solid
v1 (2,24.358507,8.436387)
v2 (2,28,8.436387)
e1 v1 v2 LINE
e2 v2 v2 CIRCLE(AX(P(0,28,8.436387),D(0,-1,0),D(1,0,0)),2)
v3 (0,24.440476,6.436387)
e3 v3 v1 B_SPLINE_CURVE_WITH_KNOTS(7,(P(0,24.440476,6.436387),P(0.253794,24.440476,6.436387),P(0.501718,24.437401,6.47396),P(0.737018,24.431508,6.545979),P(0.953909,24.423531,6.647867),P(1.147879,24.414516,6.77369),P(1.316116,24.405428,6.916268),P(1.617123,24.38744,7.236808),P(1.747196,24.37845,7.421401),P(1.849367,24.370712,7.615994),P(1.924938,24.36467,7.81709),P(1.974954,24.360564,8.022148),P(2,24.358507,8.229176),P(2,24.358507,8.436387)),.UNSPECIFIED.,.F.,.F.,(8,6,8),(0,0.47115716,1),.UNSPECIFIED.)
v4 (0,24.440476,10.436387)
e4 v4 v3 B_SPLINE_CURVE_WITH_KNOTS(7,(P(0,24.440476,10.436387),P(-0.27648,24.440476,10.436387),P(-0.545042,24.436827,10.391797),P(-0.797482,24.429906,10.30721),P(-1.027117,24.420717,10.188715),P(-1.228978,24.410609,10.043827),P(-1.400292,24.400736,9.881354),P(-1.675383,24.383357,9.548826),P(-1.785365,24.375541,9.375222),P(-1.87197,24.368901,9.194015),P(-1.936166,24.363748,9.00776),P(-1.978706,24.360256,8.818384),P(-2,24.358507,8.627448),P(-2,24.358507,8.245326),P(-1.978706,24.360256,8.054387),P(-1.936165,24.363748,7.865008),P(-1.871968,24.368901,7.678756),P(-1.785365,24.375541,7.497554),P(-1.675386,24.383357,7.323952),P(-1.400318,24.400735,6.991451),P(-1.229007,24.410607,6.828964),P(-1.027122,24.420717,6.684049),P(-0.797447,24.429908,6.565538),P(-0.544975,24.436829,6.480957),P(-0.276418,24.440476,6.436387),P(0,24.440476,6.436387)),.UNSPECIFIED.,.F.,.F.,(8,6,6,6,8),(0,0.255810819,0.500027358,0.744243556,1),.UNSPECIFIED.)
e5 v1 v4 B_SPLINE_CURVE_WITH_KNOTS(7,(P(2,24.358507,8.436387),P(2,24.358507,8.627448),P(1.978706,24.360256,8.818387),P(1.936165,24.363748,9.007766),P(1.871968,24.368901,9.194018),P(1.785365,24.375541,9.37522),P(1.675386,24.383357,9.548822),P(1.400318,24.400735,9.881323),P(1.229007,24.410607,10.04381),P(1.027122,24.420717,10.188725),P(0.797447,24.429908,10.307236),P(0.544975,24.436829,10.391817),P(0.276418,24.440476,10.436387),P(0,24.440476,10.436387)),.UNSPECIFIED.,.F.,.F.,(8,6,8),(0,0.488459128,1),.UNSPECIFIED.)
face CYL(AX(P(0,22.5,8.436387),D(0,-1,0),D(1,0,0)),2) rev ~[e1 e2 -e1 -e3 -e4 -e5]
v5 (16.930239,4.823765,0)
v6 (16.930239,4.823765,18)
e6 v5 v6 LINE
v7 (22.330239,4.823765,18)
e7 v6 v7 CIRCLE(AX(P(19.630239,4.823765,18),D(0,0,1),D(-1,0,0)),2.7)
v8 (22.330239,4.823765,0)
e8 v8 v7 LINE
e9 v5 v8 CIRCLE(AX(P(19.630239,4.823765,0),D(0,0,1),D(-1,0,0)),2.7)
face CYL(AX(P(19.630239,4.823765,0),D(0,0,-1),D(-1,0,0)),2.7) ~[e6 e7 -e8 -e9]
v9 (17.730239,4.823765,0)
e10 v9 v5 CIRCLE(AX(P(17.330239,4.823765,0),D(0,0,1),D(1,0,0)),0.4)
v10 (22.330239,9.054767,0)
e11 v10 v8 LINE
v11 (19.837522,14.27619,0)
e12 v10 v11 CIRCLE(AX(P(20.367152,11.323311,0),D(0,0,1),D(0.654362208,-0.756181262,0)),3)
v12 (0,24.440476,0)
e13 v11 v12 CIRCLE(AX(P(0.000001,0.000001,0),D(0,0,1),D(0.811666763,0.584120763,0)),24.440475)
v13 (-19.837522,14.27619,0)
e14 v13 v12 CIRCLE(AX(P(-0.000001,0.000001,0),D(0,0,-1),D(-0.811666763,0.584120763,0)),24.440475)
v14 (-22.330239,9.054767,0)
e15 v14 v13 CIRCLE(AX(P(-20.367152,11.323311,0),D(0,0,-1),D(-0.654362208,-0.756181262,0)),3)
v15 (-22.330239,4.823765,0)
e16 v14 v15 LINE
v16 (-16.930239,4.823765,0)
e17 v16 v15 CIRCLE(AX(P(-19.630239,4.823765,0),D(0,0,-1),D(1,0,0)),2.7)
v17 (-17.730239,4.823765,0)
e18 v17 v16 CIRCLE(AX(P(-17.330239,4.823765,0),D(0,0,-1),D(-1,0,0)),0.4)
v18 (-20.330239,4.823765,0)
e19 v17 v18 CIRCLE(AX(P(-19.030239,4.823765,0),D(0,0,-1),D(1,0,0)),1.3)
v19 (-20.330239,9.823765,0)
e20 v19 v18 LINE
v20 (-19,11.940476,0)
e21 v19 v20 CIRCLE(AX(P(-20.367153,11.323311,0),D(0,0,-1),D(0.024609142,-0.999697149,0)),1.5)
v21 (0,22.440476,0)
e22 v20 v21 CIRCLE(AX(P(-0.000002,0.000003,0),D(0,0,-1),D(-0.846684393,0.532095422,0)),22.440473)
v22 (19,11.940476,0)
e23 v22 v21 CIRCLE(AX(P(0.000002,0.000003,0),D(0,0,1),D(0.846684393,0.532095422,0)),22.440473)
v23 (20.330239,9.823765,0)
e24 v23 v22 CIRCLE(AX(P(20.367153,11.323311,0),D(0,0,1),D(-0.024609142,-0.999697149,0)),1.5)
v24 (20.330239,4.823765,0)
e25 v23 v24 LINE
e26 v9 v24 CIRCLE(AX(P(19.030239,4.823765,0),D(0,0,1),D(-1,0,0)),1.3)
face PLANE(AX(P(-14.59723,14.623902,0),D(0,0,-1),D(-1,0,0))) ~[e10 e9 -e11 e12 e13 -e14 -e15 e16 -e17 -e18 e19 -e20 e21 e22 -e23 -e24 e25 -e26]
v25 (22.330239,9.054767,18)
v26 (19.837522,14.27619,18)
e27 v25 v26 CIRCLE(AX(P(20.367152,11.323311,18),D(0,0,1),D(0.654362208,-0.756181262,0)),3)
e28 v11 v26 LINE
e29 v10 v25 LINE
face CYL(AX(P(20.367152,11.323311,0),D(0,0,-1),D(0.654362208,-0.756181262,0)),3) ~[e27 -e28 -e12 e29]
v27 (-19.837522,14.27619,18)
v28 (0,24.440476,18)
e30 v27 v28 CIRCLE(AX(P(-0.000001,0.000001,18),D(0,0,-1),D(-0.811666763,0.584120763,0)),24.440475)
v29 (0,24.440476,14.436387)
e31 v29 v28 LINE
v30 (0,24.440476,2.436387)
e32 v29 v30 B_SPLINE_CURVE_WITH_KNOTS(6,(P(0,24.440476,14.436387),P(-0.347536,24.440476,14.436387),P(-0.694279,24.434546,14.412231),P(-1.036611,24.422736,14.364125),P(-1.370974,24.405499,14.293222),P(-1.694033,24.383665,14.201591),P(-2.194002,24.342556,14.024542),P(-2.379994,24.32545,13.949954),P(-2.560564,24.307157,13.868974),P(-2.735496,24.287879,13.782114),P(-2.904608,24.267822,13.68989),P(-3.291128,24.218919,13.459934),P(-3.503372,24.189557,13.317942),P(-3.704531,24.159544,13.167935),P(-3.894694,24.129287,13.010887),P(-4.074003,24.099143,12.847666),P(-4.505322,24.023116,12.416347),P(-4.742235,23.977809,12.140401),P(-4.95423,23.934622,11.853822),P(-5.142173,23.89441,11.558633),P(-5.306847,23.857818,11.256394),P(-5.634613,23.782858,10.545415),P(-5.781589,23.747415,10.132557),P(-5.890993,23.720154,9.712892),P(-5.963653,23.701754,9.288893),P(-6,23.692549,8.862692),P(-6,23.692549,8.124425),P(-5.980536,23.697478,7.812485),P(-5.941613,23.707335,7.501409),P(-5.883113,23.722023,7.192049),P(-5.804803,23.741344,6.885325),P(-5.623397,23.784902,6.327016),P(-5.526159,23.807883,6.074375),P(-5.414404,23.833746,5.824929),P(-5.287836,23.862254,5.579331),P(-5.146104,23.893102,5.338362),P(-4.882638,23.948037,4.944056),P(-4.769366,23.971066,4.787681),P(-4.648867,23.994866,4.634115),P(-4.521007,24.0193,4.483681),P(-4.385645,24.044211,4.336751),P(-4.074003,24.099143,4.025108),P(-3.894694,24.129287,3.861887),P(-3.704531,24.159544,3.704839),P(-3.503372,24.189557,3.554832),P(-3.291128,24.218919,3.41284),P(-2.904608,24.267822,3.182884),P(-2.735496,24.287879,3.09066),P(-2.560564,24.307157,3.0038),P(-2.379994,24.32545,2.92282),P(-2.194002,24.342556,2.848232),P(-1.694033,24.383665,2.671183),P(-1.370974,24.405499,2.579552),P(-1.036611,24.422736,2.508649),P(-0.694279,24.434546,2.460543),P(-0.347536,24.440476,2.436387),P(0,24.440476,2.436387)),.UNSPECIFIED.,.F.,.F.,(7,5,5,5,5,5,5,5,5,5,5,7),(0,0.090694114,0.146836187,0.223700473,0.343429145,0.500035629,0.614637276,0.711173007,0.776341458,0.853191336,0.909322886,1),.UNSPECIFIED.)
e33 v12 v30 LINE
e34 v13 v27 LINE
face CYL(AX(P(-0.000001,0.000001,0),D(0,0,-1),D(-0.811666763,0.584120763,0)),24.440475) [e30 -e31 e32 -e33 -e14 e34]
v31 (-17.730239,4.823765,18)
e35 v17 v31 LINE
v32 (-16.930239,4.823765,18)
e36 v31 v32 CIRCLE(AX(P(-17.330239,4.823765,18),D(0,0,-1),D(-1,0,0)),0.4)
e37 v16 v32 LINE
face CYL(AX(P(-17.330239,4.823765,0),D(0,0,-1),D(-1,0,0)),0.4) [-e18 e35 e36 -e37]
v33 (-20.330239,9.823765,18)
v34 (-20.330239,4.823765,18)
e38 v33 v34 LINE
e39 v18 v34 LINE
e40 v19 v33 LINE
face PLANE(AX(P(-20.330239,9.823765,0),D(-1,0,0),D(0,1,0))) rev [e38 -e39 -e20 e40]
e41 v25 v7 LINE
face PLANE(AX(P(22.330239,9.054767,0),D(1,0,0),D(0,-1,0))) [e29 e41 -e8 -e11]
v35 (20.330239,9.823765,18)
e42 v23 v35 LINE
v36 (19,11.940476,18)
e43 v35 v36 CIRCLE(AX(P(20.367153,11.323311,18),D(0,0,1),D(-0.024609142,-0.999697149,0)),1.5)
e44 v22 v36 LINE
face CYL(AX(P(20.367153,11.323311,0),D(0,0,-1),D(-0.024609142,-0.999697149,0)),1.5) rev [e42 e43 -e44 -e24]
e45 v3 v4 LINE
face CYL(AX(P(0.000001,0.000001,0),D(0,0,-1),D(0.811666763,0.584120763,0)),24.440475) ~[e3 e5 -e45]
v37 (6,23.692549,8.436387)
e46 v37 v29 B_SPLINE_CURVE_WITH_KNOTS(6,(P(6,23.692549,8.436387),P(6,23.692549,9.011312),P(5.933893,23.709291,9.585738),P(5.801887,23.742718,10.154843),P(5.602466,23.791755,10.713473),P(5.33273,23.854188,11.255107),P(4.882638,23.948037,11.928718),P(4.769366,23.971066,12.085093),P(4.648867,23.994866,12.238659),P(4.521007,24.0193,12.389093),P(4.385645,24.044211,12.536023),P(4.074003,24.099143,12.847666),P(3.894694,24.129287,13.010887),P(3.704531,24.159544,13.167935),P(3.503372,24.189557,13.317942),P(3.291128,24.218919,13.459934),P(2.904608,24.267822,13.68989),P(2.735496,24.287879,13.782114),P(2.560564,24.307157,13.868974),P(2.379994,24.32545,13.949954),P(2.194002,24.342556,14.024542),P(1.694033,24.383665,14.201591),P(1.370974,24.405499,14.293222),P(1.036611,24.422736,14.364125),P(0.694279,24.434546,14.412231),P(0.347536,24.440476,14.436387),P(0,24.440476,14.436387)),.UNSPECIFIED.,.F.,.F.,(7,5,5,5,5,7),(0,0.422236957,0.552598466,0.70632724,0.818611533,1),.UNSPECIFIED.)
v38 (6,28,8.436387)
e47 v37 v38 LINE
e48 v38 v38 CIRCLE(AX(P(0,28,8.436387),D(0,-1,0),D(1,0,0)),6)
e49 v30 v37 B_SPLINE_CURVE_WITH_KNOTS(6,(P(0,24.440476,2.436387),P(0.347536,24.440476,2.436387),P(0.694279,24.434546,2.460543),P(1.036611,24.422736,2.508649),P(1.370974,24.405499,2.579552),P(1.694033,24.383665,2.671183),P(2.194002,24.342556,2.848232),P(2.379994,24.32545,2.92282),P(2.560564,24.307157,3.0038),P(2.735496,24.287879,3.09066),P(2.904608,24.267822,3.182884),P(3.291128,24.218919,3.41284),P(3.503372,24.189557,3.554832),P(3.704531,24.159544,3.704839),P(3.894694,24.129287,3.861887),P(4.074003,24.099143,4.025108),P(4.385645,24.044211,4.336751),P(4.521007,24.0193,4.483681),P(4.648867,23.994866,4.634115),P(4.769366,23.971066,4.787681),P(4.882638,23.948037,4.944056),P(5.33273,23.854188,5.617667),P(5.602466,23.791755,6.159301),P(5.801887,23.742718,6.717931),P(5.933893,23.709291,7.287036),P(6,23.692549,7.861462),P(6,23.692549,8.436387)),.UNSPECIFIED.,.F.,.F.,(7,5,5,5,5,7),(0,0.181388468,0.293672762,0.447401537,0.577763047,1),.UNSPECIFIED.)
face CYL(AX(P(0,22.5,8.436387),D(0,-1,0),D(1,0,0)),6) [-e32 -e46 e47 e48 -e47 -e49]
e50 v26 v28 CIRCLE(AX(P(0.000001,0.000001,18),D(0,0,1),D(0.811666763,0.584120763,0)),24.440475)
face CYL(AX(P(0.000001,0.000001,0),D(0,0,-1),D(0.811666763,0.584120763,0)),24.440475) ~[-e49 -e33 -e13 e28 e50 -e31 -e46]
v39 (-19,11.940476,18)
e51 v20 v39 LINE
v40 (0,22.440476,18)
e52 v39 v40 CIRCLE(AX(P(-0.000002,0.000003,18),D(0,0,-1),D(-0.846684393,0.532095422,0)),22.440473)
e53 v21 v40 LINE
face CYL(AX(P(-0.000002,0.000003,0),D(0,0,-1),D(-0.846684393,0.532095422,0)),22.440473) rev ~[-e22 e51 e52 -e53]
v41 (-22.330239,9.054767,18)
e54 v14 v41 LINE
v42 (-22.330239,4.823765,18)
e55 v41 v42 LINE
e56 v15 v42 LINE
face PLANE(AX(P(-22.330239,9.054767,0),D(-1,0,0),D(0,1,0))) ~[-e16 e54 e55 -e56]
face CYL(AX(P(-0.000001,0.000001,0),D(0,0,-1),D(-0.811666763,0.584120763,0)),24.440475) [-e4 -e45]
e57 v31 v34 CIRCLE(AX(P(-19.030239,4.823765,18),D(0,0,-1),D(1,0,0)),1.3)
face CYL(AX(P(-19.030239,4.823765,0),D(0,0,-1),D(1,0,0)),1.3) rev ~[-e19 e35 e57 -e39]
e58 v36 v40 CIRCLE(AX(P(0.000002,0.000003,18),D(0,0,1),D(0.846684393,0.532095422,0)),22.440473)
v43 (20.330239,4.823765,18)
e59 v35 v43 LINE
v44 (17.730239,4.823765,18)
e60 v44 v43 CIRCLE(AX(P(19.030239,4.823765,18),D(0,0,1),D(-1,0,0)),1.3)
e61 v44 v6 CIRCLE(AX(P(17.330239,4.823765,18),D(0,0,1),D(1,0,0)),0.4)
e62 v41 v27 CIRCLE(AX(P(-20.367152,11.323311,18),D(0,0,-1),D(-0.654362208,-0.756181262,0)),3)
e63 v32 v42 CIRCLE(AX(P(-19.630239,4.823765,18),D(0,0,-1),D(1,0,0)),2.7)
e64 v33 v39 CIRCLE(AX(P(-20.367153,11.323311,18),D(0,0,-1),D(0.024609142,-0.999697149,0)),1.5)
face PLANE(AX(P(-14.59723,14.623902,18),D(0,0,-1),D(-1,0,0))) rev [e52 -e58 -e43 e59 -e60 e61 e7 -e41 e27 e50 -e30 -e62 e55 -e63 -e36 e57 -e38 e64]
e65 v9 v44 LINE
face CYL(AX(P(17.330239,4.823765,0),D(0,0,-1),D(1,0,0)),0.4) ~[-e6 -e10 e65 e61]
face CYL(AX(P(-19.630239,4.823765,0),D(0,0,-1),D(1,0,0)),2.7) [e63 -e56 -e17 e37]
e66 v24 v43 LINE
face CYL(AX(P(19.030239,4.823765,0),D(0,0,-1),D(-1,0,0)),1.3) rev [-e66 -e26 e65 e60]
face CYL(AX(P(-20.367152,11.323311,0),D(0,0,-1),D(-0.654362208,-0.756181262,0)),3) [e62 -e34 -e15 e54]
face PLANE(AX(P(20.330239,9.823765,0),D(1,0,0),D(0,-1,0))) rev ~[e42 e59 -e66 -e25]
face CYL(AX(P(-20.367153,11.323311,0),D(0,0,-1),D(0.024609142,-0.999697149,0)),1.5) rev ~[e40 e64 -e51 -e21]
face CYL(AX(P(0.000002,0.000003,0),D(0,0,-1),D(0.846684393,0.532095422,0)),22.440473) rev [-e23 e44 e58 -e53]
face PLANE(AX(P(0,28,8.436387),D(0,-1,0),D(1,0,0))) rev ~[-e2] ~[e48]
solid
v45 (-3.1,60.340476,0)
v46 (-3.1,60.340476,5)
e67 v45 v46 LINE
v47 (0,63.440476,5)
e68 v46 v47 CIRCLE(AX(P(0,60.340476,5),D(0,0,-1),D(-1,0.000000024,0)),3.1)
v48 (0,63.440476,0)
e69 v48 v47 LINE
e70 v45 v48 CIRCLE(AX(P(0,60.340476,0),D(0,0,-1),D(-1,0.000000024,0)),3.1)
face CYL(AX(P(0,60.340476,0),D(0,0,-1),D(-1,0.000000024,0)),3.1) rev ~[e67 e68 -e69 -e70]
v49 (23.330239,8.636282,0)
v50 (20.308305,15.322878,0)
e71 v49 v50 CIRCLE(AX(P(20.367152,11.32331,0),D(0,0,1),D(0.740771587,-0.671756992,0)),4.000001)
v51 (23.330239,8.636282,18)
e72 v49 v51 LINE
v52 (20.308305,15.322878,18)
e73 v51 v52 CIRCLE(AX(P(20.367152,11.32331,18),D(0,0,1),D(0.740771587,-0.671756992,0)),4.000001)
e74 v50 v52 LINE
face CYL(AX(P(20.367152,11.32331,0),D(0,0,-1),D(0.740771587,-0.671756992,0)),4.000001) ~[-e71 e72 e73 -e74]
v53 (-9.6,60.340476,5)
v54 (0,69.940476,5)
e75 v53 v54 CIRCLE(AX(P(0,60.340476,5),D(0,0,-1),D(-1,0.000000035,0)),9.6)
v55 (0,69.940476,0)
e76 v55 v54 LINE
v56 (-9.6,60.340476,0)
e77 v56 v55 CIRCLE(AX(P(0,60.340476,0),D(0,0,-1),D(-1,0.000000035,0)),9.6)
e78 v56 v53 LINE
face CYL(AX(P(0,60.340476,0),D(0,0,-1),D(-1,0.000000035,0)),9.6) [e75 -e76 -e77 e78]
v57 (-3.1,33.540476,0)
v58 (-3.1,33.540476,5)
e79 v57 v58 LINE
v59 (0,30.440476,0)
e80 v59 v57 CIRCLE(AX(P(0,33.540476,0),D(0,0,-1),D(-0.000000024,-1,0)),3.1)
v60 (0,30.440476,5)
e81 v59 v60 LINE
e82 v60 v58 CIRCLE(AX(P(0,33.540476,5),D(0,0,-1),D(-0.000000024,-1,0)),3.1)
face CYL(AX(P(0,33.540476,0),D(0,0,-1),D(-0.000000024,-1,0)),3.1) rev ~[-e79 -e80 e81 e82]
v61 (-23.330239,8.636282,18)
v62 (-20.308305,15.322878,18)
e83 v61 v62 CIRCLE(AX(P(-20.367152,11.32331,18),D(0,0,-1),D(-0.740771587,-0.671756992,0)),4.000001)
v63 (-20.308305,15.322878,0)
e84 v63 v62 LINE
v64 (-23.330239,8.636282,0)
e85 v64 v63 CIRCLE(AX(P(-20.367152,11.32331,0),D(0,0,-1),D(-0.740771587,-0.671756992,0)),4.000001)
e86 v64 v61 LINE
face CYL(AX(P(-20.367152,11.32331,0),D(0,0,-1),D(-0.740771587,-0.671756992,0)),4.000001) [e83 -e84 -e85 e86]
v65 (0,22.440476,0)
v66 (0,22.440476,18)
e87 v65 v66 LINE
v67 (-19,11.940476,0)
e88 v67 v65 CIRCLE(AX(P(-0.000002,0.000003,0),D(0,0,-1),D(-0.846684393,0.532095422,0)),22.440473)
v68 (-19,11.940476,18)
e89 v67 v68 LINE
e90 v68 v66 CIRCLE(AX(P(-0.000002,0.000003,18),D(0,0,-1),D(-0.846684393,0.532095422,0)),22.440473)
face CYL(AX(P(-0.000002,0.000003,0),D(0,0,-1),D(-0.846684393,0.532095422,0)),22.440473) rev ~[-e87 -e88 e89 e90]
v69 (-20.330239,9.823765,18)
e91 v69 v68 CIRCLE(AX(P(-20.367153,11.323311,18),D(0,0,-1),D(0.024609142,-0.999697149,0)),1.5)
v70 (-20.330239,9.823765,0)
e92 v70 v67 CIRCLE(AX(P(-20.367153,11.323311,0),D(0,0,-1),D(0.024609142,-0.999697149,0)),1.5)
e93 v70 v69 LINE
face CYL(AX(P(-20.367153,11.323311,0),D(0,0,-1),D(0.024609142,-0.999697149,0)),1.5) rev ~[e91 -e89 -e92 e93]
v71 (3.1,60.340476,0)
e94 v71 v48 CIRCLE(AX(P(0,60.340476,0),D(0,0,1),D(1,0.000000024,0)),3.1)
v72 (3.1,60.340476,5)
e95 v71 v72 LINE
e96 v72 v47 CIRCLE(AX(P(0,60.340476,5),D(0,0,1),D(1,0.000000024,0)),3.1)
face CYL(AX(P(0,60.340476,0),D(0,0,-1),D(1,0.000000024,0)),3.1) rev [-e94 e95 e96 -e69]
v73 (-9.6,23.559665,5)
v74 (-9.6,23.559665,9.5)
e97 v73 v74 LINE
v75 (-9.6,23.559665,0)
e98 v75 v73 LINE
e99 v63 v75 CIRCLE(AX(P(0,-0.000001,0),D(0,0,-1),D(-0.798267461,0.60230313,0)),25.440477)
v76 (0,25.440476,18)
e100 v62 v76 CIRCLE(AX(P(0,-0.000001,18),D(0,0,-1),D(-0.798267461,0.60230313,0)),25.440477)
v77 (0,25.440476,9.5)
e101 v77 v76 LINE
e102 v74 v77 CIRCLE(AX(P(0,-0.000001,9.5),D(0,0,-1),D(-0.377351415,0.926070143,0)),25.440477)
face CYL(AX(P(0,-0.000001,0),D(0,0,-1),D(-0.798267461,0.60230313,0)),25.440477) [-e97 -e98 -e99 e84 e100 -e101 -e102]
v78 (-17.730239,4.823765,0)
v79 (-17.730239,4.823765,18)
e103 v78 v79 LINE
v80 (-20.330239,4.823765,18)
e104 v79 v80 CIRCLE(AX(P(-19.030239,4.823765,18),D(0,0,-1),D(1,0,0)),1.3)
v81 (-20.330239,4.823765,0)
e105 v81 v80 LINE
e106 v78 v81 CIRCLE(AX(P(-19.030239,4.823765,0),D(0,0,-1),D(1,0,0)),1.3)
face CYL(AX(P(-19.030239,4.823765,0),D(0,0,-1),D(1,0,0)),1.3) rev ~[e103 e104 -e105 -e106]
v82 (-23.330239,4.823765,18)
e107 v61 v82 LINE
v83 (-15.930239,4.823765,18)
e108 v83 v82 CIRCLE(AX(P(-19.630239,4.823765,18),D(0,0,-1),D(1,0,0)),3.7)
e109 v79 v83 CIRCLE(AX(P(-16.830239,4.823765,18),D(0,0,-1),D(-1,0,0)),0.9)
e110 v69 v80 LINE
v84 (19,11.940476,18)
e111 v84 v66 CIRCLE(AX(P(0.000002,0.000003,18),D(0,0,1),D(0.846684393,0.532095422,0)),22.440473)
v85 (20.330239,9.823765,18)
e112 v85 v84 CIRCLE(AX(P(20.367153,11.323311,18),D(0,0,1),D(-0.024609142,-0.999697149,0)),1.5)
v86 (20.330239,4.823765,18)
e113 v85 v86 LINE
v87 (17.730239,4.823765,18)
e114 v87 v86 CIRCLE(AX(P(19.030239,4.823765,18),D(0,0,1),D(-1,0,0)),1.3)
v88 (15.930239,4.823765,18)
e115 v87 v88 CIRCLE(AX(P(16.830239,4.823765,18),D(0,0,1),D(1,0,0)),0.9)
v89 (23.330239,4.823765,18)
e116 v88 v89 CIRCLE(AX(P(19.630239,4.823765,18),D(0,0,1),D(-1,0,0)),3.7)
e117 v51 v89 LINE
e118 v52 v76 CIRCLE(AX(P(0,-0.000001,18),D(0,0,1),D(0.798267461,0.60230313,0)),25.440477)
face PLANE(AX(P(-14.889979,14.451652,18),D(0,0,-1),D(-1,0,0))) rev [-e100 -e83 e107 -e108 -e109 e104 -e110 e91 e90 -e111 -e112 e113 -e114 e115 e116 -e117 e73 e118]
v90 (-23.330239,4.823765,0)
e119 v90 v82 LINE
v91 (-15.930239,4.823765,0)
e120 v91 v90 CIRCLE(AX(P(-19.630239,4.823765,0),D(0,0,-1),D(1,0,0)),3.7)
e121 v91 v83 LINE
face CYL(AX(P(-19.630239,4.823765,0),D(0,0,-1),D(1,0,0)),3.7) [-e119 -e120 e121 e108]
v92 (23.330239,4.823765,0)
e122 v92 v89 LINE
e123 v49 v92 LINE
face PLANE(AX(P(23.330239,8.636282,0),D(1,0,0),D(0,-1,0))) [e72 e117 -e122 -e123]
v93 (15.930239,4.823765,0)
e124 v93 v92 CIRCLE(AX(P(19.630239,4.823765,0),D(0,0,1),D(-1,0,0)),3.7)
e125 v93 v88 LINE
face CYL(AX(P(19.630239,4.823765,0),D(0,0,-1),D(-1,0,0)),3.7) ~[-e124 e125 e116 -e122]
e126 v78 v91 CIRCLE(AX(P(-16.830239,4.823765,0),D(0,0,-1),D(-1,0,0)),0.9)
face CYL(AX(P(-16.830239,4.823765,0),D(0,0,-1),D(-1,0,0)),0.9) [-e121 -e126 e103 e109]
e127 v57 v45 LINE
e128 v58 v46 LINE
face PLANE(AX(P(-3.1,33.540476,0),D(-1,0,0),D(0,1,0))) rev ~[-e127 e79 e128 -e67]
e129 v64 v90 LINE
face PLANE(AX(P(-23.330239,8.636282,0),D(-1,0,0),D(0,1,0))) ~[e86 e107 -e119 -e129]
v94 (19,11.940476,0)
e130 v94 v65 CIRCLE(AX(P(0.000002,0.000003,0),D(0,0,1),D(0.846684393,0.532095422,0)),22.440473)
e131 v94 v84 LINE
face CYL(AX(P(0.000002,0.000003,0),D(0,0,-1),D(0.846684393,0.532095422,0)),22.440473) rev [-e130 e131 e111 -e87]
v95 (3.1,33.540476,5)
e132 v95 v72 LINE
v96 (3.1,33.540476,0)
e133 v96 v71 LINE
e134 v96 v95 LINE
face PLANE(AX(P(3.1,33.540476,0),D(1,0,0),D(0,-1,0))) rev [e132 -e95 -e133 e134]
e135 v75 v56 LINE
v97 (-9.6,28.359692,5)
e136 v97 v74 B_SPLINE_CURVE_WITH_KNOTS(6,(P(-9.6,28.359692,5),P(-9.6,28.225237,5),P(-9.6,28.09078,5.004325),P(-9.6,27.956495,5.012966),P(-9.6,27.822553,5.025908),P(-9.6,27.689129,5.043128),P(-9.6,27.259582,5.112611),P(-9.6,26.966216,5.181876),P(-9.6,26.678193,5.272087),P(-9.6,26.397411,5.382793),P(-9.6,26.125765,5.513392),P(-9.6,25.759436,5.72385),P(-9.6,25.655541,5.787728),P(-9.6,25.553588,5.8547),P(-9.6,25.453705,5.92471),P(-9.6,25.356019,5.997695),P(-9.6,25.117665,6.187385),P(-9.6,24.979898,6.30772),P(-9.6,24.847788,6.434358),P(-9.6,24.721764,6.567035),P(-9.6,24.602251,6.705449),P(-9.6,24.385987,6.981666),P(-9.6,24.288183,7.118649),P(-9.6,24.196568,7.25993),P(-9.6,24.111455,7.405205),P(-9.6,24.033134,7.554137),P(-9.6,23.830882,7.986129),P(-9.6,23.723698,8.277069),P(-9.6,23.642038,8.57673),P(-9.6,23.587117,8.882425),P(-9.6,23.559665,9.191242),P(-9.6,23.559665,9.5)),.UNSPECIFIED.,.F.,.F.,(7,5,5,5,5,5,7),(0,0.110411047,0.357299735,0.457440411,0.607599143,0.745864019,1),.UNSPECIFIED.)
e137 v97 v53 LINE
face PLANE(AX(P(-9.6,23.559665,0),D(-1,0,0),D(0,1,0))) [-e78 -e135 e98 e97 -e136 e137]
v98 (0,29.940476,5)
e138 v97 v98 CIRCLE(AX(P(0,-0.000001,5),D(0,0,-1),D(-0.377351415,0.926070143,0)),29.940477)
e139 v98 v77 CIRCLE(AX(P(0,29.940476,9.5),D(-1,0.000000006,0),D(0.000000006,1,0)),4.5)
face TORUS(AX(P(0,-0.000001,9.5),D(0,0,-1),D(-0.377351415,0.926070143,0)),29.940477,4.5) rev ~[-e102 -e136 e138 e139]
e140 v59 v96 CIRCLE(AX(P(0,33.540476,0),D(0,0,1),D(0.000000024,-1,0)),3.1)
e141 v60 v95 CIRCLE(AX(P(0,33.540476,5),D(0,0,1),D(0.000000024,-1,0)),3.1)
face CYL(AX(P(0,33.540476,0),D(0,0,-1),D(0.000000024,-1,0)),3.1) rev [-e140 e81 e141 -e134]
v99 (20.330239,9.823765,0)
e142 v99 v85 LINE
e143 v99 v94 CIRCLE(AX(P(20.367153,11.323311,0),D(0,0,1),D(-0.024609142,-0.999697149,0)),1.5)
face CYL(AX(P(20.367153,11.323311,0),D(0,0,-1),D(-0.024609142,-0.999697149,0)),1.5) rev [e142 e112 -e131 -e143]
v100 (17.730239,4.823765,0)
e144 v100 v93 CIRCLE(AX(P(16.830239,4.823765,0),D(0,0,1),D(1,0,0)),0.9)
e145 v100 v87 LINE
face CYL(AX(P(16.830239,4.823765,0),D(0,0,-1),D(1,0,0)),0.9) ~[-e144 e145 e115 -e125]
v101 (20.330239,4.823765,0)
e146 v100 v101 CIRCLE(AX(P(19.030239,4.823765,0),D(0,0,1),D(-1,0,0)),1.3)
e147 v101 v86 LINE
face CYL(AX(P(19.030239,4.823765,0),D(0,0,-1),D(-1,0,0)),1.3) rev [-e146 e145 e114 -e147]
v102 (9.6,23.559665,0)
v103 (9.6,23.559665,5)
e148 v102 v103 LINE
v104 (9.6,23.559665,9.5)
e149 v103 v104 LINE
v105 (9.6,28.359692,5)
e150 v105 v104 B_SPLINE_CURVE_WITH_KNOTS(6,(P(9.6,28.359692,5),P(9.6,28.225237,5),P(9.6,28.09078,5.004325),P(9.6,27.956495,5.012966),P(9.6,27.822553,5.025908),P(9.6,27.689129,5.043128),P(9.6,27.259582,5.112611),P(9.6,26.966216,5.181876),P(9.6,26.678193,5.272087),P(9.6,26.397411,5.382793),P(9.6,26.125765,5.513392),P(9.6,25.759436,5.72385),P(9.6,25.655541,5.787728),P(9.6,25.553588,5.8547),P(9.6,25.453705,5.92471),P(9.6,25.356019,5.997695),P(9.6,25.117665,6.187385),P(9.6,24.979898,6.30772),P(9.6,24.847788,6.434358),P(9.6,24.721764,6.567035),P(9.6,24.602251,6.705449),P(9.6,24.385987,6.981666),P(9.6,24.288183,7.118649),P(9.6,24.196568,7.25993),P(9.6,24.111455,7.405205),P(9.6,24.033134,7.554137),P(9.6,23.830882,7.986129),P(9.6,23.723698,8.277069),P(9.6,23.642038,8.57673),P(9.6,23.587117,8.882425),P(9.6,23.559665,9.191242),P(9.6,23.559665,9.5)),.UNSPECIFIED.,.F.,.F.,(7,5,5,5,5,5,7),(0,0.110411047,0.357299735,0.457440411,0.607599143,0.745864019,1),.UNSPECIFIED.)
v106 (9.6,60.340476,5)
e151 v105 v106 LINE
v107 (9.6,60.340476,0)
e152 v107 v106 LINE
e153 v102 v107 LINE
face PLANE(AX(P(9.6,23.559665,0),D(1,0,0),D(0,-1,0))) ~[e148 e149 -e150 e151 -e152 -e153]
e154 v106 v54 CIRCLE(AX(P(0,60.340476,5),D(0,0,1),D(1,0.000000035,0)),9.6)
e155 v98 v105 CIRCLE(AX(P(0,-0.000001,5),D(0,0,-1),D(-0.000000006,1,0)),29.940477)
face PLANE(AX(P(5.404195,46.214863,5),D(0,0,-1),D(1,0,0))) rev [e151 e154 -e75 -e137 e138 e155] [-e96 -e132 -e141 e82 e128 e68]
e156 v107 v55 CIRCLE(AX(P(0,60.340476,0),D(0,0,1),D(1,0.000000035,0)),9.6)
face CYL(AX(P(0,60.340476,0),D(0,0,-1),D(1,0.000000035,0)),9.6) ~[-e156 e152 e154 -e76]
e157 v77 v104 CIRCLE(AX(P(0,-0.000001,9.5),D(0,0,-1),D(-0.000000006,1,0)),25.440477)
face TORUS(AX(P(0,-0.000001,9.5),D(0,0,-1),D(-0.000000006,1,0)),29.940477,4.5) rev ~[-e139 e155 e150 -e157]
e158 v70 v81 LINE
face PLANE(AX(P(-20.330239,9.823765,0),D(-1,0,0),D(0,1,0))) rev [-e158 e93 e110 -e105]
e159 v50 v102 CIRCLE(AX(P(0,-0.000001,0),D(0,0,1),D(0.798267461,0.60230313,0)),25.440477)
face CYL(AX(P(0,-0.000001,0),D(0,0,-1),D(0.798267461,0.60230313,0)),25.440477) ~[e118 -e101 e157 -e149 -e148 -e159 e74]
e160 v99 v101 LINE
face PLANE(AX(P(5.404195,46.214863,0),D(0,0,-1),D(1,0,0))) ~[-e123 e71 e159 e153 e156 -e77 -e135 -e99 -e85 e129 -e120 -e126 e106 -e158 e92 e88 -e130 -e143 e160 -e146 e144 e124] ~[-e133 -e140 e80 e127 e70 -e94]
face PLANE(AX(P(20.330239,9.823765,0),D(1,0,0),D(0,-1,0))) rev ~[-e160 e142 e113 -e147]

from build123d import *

# Parameters (mm, degrees)
PAD_DEPTH     = 18
PAD001_DEPTH  = 5
FILLET_R      = 4.5
PAD002_DEPTH  = 18
PAD003_START  = -22.5
SKETCH003_R   = 6
SKETCH003_R_2 = 2
PAD003_DEPTH  = 5.5


with BuildPart() as top:
    # Sketch → Pad (new body)
    with BuildSketch(Plane.XY):
        with BuildLine():
            ThreePointArc((19, 11.940476), (10.854147, 19.640837), (0, 22.440476))
            Line((0, 22.440476), (0, 25.440476))
            ThreePointArc((20.308305, 15.322878), (11.344525, 22.771025), (0, 25.440476))
            ThreePointArc((23.330239, 8.636282), (24.012189, 12.970645), (20.308305, 15.322878))
            Line((23.330239, 8.636282), (23.330239, 4.823765))
            ThreePointArc((15.930239, 4.823765), (19.630239, 1.123765), (23.330239, 4.823765))
            ThreePointArc((17.730239, 4.823765), (16.830239, 5.723765), (15.930239, 4.823765))
            ThreePointArc((17.730239, 4.823765), (19.030239, 3.523765), (20.330239, 4.823765))
            Line((20.330239, 9.823765), (20.330239, 4.823765))
            ThreePointArc((20.330239, 9.823765), (21.637179, 12.121454), (19, 11.940476))
        make_face()
    pad = extrude(amount=PAD_DEPTH)

    # Mirrored: Pad across Sketch V_Axis
    add(pad.mirror(Plane(origin=(0, 0, 0), x_dir=(0, 0, 1), z_dir=(1, 0, 0))))

    # Sketch001 (on Face4 of Mirrored) → Pad001 (join)
    with BuildSketch(Plane(origin=(0, 0, 0), x_dir=(1, 0, 0), z_dir=(0, 0, -1))):
        with BuildLine():
            Line((-9.6, -23.559665), (-9.6, -60.340476))
            ThreePointArc((-9.6, -60.340476), (-6.788225, -67.128701), (0, -69.940476))
            Line((0, -69.940476), (0, -63.440476))
            ThreePointArc((-3.1, -60.340476), (-2.192031, -62.532507), (0, -63.440476))
            Line((-3.1, -33.540476), (-3.1, -60.340476))
            ThreePointArc((0, -30.440476), (-2.192031, -31.348445), (-3.1, -33.540476))
            Line((0, -30.440476), (0, -25.440476))
            ThreePointArc((-9.6, -23.559665), (-4.891254, -24.965846), (0, -25.440476))
        make_face()
    pad001 = extrude(amount=-PAD001_DEPTH)

    # Mirrored001: Pad001 across Sketch001 V_Axis
    add(pad001.mirror(Plane(origin=(0, 0, 0), x_dir=(0, 0, -1), z_dir=(1, 0, 0))))

    # Fillet
    fillet_edges = [top.edges().sort_by_distance(p)[0] for p in [
        (-4.891254, 24.965846, 5),
        (4.891254, 24.965846, 5),
    ]]
    fillet(fillet_edges, radius=FILLET_R)


with BuildPart() as side:
    # Sketch002 → Pad002 (new body)
    with BuildSketch(Plane.XY):
        with BuildLine():
            ThreePointArc((19, 11.940476), (10.854147, 19.640837), (0, 22.440476))
            Line((0, 22.440476), (0, 24.440476))
            ThreePointArc((19.837522, 14.27619), (11.144954, 21.75148), (0, 24.440476))
            ThreePointArc((22.330239, 9.054767), (23.07446, 12.615784), (19.837522, 14.27619))
            Line((22.330239, 9.054767), (22.330239, 4.823765))
            ThreePointArc((16.930239, 4.823765), (19.630239, 2.123765), (22.330239, 4.823765))
            ThreePointArc((17.730239, 4.823765), (17.330239, 5.223765), (16.930239, 4.823765))
            ThreePointArc((17.730239, 4.823765), (19.030239, 3.523765), (20.330239, 4.823765))
            Line((20.330239, 9.823765), (20.330239, 4.823765))
            ThreePointArc((20.330239, 9.823765), (21.637179, 12.121454), (19, 11.940476))
        make_face()
    pad002 = extrude(amount=PAD002_DEPTH)

    # Mirrored002: Pad002 across Sketch002 V_Axis
    add(pad002.mirror(Plane(origin=(0, 0, 0), x_dir=(0, 0, 1), z_dir=(1, 0, 0))))

    # Sketch003 → Pad003 (join)
    with BuildSketch(Plane.XZ.offset(PAD003_START)):
        with Locations((0, 8.436387)):
            Circle(SKETCH003_R)
        with Locations((0, 8.436387)):
            Circle(SKETCH003_R_2, mode=Mode.SUBTRACT)
    extrude(amount=-PAD003_DEPTH)


solid = Compound([top.part, side.part])
